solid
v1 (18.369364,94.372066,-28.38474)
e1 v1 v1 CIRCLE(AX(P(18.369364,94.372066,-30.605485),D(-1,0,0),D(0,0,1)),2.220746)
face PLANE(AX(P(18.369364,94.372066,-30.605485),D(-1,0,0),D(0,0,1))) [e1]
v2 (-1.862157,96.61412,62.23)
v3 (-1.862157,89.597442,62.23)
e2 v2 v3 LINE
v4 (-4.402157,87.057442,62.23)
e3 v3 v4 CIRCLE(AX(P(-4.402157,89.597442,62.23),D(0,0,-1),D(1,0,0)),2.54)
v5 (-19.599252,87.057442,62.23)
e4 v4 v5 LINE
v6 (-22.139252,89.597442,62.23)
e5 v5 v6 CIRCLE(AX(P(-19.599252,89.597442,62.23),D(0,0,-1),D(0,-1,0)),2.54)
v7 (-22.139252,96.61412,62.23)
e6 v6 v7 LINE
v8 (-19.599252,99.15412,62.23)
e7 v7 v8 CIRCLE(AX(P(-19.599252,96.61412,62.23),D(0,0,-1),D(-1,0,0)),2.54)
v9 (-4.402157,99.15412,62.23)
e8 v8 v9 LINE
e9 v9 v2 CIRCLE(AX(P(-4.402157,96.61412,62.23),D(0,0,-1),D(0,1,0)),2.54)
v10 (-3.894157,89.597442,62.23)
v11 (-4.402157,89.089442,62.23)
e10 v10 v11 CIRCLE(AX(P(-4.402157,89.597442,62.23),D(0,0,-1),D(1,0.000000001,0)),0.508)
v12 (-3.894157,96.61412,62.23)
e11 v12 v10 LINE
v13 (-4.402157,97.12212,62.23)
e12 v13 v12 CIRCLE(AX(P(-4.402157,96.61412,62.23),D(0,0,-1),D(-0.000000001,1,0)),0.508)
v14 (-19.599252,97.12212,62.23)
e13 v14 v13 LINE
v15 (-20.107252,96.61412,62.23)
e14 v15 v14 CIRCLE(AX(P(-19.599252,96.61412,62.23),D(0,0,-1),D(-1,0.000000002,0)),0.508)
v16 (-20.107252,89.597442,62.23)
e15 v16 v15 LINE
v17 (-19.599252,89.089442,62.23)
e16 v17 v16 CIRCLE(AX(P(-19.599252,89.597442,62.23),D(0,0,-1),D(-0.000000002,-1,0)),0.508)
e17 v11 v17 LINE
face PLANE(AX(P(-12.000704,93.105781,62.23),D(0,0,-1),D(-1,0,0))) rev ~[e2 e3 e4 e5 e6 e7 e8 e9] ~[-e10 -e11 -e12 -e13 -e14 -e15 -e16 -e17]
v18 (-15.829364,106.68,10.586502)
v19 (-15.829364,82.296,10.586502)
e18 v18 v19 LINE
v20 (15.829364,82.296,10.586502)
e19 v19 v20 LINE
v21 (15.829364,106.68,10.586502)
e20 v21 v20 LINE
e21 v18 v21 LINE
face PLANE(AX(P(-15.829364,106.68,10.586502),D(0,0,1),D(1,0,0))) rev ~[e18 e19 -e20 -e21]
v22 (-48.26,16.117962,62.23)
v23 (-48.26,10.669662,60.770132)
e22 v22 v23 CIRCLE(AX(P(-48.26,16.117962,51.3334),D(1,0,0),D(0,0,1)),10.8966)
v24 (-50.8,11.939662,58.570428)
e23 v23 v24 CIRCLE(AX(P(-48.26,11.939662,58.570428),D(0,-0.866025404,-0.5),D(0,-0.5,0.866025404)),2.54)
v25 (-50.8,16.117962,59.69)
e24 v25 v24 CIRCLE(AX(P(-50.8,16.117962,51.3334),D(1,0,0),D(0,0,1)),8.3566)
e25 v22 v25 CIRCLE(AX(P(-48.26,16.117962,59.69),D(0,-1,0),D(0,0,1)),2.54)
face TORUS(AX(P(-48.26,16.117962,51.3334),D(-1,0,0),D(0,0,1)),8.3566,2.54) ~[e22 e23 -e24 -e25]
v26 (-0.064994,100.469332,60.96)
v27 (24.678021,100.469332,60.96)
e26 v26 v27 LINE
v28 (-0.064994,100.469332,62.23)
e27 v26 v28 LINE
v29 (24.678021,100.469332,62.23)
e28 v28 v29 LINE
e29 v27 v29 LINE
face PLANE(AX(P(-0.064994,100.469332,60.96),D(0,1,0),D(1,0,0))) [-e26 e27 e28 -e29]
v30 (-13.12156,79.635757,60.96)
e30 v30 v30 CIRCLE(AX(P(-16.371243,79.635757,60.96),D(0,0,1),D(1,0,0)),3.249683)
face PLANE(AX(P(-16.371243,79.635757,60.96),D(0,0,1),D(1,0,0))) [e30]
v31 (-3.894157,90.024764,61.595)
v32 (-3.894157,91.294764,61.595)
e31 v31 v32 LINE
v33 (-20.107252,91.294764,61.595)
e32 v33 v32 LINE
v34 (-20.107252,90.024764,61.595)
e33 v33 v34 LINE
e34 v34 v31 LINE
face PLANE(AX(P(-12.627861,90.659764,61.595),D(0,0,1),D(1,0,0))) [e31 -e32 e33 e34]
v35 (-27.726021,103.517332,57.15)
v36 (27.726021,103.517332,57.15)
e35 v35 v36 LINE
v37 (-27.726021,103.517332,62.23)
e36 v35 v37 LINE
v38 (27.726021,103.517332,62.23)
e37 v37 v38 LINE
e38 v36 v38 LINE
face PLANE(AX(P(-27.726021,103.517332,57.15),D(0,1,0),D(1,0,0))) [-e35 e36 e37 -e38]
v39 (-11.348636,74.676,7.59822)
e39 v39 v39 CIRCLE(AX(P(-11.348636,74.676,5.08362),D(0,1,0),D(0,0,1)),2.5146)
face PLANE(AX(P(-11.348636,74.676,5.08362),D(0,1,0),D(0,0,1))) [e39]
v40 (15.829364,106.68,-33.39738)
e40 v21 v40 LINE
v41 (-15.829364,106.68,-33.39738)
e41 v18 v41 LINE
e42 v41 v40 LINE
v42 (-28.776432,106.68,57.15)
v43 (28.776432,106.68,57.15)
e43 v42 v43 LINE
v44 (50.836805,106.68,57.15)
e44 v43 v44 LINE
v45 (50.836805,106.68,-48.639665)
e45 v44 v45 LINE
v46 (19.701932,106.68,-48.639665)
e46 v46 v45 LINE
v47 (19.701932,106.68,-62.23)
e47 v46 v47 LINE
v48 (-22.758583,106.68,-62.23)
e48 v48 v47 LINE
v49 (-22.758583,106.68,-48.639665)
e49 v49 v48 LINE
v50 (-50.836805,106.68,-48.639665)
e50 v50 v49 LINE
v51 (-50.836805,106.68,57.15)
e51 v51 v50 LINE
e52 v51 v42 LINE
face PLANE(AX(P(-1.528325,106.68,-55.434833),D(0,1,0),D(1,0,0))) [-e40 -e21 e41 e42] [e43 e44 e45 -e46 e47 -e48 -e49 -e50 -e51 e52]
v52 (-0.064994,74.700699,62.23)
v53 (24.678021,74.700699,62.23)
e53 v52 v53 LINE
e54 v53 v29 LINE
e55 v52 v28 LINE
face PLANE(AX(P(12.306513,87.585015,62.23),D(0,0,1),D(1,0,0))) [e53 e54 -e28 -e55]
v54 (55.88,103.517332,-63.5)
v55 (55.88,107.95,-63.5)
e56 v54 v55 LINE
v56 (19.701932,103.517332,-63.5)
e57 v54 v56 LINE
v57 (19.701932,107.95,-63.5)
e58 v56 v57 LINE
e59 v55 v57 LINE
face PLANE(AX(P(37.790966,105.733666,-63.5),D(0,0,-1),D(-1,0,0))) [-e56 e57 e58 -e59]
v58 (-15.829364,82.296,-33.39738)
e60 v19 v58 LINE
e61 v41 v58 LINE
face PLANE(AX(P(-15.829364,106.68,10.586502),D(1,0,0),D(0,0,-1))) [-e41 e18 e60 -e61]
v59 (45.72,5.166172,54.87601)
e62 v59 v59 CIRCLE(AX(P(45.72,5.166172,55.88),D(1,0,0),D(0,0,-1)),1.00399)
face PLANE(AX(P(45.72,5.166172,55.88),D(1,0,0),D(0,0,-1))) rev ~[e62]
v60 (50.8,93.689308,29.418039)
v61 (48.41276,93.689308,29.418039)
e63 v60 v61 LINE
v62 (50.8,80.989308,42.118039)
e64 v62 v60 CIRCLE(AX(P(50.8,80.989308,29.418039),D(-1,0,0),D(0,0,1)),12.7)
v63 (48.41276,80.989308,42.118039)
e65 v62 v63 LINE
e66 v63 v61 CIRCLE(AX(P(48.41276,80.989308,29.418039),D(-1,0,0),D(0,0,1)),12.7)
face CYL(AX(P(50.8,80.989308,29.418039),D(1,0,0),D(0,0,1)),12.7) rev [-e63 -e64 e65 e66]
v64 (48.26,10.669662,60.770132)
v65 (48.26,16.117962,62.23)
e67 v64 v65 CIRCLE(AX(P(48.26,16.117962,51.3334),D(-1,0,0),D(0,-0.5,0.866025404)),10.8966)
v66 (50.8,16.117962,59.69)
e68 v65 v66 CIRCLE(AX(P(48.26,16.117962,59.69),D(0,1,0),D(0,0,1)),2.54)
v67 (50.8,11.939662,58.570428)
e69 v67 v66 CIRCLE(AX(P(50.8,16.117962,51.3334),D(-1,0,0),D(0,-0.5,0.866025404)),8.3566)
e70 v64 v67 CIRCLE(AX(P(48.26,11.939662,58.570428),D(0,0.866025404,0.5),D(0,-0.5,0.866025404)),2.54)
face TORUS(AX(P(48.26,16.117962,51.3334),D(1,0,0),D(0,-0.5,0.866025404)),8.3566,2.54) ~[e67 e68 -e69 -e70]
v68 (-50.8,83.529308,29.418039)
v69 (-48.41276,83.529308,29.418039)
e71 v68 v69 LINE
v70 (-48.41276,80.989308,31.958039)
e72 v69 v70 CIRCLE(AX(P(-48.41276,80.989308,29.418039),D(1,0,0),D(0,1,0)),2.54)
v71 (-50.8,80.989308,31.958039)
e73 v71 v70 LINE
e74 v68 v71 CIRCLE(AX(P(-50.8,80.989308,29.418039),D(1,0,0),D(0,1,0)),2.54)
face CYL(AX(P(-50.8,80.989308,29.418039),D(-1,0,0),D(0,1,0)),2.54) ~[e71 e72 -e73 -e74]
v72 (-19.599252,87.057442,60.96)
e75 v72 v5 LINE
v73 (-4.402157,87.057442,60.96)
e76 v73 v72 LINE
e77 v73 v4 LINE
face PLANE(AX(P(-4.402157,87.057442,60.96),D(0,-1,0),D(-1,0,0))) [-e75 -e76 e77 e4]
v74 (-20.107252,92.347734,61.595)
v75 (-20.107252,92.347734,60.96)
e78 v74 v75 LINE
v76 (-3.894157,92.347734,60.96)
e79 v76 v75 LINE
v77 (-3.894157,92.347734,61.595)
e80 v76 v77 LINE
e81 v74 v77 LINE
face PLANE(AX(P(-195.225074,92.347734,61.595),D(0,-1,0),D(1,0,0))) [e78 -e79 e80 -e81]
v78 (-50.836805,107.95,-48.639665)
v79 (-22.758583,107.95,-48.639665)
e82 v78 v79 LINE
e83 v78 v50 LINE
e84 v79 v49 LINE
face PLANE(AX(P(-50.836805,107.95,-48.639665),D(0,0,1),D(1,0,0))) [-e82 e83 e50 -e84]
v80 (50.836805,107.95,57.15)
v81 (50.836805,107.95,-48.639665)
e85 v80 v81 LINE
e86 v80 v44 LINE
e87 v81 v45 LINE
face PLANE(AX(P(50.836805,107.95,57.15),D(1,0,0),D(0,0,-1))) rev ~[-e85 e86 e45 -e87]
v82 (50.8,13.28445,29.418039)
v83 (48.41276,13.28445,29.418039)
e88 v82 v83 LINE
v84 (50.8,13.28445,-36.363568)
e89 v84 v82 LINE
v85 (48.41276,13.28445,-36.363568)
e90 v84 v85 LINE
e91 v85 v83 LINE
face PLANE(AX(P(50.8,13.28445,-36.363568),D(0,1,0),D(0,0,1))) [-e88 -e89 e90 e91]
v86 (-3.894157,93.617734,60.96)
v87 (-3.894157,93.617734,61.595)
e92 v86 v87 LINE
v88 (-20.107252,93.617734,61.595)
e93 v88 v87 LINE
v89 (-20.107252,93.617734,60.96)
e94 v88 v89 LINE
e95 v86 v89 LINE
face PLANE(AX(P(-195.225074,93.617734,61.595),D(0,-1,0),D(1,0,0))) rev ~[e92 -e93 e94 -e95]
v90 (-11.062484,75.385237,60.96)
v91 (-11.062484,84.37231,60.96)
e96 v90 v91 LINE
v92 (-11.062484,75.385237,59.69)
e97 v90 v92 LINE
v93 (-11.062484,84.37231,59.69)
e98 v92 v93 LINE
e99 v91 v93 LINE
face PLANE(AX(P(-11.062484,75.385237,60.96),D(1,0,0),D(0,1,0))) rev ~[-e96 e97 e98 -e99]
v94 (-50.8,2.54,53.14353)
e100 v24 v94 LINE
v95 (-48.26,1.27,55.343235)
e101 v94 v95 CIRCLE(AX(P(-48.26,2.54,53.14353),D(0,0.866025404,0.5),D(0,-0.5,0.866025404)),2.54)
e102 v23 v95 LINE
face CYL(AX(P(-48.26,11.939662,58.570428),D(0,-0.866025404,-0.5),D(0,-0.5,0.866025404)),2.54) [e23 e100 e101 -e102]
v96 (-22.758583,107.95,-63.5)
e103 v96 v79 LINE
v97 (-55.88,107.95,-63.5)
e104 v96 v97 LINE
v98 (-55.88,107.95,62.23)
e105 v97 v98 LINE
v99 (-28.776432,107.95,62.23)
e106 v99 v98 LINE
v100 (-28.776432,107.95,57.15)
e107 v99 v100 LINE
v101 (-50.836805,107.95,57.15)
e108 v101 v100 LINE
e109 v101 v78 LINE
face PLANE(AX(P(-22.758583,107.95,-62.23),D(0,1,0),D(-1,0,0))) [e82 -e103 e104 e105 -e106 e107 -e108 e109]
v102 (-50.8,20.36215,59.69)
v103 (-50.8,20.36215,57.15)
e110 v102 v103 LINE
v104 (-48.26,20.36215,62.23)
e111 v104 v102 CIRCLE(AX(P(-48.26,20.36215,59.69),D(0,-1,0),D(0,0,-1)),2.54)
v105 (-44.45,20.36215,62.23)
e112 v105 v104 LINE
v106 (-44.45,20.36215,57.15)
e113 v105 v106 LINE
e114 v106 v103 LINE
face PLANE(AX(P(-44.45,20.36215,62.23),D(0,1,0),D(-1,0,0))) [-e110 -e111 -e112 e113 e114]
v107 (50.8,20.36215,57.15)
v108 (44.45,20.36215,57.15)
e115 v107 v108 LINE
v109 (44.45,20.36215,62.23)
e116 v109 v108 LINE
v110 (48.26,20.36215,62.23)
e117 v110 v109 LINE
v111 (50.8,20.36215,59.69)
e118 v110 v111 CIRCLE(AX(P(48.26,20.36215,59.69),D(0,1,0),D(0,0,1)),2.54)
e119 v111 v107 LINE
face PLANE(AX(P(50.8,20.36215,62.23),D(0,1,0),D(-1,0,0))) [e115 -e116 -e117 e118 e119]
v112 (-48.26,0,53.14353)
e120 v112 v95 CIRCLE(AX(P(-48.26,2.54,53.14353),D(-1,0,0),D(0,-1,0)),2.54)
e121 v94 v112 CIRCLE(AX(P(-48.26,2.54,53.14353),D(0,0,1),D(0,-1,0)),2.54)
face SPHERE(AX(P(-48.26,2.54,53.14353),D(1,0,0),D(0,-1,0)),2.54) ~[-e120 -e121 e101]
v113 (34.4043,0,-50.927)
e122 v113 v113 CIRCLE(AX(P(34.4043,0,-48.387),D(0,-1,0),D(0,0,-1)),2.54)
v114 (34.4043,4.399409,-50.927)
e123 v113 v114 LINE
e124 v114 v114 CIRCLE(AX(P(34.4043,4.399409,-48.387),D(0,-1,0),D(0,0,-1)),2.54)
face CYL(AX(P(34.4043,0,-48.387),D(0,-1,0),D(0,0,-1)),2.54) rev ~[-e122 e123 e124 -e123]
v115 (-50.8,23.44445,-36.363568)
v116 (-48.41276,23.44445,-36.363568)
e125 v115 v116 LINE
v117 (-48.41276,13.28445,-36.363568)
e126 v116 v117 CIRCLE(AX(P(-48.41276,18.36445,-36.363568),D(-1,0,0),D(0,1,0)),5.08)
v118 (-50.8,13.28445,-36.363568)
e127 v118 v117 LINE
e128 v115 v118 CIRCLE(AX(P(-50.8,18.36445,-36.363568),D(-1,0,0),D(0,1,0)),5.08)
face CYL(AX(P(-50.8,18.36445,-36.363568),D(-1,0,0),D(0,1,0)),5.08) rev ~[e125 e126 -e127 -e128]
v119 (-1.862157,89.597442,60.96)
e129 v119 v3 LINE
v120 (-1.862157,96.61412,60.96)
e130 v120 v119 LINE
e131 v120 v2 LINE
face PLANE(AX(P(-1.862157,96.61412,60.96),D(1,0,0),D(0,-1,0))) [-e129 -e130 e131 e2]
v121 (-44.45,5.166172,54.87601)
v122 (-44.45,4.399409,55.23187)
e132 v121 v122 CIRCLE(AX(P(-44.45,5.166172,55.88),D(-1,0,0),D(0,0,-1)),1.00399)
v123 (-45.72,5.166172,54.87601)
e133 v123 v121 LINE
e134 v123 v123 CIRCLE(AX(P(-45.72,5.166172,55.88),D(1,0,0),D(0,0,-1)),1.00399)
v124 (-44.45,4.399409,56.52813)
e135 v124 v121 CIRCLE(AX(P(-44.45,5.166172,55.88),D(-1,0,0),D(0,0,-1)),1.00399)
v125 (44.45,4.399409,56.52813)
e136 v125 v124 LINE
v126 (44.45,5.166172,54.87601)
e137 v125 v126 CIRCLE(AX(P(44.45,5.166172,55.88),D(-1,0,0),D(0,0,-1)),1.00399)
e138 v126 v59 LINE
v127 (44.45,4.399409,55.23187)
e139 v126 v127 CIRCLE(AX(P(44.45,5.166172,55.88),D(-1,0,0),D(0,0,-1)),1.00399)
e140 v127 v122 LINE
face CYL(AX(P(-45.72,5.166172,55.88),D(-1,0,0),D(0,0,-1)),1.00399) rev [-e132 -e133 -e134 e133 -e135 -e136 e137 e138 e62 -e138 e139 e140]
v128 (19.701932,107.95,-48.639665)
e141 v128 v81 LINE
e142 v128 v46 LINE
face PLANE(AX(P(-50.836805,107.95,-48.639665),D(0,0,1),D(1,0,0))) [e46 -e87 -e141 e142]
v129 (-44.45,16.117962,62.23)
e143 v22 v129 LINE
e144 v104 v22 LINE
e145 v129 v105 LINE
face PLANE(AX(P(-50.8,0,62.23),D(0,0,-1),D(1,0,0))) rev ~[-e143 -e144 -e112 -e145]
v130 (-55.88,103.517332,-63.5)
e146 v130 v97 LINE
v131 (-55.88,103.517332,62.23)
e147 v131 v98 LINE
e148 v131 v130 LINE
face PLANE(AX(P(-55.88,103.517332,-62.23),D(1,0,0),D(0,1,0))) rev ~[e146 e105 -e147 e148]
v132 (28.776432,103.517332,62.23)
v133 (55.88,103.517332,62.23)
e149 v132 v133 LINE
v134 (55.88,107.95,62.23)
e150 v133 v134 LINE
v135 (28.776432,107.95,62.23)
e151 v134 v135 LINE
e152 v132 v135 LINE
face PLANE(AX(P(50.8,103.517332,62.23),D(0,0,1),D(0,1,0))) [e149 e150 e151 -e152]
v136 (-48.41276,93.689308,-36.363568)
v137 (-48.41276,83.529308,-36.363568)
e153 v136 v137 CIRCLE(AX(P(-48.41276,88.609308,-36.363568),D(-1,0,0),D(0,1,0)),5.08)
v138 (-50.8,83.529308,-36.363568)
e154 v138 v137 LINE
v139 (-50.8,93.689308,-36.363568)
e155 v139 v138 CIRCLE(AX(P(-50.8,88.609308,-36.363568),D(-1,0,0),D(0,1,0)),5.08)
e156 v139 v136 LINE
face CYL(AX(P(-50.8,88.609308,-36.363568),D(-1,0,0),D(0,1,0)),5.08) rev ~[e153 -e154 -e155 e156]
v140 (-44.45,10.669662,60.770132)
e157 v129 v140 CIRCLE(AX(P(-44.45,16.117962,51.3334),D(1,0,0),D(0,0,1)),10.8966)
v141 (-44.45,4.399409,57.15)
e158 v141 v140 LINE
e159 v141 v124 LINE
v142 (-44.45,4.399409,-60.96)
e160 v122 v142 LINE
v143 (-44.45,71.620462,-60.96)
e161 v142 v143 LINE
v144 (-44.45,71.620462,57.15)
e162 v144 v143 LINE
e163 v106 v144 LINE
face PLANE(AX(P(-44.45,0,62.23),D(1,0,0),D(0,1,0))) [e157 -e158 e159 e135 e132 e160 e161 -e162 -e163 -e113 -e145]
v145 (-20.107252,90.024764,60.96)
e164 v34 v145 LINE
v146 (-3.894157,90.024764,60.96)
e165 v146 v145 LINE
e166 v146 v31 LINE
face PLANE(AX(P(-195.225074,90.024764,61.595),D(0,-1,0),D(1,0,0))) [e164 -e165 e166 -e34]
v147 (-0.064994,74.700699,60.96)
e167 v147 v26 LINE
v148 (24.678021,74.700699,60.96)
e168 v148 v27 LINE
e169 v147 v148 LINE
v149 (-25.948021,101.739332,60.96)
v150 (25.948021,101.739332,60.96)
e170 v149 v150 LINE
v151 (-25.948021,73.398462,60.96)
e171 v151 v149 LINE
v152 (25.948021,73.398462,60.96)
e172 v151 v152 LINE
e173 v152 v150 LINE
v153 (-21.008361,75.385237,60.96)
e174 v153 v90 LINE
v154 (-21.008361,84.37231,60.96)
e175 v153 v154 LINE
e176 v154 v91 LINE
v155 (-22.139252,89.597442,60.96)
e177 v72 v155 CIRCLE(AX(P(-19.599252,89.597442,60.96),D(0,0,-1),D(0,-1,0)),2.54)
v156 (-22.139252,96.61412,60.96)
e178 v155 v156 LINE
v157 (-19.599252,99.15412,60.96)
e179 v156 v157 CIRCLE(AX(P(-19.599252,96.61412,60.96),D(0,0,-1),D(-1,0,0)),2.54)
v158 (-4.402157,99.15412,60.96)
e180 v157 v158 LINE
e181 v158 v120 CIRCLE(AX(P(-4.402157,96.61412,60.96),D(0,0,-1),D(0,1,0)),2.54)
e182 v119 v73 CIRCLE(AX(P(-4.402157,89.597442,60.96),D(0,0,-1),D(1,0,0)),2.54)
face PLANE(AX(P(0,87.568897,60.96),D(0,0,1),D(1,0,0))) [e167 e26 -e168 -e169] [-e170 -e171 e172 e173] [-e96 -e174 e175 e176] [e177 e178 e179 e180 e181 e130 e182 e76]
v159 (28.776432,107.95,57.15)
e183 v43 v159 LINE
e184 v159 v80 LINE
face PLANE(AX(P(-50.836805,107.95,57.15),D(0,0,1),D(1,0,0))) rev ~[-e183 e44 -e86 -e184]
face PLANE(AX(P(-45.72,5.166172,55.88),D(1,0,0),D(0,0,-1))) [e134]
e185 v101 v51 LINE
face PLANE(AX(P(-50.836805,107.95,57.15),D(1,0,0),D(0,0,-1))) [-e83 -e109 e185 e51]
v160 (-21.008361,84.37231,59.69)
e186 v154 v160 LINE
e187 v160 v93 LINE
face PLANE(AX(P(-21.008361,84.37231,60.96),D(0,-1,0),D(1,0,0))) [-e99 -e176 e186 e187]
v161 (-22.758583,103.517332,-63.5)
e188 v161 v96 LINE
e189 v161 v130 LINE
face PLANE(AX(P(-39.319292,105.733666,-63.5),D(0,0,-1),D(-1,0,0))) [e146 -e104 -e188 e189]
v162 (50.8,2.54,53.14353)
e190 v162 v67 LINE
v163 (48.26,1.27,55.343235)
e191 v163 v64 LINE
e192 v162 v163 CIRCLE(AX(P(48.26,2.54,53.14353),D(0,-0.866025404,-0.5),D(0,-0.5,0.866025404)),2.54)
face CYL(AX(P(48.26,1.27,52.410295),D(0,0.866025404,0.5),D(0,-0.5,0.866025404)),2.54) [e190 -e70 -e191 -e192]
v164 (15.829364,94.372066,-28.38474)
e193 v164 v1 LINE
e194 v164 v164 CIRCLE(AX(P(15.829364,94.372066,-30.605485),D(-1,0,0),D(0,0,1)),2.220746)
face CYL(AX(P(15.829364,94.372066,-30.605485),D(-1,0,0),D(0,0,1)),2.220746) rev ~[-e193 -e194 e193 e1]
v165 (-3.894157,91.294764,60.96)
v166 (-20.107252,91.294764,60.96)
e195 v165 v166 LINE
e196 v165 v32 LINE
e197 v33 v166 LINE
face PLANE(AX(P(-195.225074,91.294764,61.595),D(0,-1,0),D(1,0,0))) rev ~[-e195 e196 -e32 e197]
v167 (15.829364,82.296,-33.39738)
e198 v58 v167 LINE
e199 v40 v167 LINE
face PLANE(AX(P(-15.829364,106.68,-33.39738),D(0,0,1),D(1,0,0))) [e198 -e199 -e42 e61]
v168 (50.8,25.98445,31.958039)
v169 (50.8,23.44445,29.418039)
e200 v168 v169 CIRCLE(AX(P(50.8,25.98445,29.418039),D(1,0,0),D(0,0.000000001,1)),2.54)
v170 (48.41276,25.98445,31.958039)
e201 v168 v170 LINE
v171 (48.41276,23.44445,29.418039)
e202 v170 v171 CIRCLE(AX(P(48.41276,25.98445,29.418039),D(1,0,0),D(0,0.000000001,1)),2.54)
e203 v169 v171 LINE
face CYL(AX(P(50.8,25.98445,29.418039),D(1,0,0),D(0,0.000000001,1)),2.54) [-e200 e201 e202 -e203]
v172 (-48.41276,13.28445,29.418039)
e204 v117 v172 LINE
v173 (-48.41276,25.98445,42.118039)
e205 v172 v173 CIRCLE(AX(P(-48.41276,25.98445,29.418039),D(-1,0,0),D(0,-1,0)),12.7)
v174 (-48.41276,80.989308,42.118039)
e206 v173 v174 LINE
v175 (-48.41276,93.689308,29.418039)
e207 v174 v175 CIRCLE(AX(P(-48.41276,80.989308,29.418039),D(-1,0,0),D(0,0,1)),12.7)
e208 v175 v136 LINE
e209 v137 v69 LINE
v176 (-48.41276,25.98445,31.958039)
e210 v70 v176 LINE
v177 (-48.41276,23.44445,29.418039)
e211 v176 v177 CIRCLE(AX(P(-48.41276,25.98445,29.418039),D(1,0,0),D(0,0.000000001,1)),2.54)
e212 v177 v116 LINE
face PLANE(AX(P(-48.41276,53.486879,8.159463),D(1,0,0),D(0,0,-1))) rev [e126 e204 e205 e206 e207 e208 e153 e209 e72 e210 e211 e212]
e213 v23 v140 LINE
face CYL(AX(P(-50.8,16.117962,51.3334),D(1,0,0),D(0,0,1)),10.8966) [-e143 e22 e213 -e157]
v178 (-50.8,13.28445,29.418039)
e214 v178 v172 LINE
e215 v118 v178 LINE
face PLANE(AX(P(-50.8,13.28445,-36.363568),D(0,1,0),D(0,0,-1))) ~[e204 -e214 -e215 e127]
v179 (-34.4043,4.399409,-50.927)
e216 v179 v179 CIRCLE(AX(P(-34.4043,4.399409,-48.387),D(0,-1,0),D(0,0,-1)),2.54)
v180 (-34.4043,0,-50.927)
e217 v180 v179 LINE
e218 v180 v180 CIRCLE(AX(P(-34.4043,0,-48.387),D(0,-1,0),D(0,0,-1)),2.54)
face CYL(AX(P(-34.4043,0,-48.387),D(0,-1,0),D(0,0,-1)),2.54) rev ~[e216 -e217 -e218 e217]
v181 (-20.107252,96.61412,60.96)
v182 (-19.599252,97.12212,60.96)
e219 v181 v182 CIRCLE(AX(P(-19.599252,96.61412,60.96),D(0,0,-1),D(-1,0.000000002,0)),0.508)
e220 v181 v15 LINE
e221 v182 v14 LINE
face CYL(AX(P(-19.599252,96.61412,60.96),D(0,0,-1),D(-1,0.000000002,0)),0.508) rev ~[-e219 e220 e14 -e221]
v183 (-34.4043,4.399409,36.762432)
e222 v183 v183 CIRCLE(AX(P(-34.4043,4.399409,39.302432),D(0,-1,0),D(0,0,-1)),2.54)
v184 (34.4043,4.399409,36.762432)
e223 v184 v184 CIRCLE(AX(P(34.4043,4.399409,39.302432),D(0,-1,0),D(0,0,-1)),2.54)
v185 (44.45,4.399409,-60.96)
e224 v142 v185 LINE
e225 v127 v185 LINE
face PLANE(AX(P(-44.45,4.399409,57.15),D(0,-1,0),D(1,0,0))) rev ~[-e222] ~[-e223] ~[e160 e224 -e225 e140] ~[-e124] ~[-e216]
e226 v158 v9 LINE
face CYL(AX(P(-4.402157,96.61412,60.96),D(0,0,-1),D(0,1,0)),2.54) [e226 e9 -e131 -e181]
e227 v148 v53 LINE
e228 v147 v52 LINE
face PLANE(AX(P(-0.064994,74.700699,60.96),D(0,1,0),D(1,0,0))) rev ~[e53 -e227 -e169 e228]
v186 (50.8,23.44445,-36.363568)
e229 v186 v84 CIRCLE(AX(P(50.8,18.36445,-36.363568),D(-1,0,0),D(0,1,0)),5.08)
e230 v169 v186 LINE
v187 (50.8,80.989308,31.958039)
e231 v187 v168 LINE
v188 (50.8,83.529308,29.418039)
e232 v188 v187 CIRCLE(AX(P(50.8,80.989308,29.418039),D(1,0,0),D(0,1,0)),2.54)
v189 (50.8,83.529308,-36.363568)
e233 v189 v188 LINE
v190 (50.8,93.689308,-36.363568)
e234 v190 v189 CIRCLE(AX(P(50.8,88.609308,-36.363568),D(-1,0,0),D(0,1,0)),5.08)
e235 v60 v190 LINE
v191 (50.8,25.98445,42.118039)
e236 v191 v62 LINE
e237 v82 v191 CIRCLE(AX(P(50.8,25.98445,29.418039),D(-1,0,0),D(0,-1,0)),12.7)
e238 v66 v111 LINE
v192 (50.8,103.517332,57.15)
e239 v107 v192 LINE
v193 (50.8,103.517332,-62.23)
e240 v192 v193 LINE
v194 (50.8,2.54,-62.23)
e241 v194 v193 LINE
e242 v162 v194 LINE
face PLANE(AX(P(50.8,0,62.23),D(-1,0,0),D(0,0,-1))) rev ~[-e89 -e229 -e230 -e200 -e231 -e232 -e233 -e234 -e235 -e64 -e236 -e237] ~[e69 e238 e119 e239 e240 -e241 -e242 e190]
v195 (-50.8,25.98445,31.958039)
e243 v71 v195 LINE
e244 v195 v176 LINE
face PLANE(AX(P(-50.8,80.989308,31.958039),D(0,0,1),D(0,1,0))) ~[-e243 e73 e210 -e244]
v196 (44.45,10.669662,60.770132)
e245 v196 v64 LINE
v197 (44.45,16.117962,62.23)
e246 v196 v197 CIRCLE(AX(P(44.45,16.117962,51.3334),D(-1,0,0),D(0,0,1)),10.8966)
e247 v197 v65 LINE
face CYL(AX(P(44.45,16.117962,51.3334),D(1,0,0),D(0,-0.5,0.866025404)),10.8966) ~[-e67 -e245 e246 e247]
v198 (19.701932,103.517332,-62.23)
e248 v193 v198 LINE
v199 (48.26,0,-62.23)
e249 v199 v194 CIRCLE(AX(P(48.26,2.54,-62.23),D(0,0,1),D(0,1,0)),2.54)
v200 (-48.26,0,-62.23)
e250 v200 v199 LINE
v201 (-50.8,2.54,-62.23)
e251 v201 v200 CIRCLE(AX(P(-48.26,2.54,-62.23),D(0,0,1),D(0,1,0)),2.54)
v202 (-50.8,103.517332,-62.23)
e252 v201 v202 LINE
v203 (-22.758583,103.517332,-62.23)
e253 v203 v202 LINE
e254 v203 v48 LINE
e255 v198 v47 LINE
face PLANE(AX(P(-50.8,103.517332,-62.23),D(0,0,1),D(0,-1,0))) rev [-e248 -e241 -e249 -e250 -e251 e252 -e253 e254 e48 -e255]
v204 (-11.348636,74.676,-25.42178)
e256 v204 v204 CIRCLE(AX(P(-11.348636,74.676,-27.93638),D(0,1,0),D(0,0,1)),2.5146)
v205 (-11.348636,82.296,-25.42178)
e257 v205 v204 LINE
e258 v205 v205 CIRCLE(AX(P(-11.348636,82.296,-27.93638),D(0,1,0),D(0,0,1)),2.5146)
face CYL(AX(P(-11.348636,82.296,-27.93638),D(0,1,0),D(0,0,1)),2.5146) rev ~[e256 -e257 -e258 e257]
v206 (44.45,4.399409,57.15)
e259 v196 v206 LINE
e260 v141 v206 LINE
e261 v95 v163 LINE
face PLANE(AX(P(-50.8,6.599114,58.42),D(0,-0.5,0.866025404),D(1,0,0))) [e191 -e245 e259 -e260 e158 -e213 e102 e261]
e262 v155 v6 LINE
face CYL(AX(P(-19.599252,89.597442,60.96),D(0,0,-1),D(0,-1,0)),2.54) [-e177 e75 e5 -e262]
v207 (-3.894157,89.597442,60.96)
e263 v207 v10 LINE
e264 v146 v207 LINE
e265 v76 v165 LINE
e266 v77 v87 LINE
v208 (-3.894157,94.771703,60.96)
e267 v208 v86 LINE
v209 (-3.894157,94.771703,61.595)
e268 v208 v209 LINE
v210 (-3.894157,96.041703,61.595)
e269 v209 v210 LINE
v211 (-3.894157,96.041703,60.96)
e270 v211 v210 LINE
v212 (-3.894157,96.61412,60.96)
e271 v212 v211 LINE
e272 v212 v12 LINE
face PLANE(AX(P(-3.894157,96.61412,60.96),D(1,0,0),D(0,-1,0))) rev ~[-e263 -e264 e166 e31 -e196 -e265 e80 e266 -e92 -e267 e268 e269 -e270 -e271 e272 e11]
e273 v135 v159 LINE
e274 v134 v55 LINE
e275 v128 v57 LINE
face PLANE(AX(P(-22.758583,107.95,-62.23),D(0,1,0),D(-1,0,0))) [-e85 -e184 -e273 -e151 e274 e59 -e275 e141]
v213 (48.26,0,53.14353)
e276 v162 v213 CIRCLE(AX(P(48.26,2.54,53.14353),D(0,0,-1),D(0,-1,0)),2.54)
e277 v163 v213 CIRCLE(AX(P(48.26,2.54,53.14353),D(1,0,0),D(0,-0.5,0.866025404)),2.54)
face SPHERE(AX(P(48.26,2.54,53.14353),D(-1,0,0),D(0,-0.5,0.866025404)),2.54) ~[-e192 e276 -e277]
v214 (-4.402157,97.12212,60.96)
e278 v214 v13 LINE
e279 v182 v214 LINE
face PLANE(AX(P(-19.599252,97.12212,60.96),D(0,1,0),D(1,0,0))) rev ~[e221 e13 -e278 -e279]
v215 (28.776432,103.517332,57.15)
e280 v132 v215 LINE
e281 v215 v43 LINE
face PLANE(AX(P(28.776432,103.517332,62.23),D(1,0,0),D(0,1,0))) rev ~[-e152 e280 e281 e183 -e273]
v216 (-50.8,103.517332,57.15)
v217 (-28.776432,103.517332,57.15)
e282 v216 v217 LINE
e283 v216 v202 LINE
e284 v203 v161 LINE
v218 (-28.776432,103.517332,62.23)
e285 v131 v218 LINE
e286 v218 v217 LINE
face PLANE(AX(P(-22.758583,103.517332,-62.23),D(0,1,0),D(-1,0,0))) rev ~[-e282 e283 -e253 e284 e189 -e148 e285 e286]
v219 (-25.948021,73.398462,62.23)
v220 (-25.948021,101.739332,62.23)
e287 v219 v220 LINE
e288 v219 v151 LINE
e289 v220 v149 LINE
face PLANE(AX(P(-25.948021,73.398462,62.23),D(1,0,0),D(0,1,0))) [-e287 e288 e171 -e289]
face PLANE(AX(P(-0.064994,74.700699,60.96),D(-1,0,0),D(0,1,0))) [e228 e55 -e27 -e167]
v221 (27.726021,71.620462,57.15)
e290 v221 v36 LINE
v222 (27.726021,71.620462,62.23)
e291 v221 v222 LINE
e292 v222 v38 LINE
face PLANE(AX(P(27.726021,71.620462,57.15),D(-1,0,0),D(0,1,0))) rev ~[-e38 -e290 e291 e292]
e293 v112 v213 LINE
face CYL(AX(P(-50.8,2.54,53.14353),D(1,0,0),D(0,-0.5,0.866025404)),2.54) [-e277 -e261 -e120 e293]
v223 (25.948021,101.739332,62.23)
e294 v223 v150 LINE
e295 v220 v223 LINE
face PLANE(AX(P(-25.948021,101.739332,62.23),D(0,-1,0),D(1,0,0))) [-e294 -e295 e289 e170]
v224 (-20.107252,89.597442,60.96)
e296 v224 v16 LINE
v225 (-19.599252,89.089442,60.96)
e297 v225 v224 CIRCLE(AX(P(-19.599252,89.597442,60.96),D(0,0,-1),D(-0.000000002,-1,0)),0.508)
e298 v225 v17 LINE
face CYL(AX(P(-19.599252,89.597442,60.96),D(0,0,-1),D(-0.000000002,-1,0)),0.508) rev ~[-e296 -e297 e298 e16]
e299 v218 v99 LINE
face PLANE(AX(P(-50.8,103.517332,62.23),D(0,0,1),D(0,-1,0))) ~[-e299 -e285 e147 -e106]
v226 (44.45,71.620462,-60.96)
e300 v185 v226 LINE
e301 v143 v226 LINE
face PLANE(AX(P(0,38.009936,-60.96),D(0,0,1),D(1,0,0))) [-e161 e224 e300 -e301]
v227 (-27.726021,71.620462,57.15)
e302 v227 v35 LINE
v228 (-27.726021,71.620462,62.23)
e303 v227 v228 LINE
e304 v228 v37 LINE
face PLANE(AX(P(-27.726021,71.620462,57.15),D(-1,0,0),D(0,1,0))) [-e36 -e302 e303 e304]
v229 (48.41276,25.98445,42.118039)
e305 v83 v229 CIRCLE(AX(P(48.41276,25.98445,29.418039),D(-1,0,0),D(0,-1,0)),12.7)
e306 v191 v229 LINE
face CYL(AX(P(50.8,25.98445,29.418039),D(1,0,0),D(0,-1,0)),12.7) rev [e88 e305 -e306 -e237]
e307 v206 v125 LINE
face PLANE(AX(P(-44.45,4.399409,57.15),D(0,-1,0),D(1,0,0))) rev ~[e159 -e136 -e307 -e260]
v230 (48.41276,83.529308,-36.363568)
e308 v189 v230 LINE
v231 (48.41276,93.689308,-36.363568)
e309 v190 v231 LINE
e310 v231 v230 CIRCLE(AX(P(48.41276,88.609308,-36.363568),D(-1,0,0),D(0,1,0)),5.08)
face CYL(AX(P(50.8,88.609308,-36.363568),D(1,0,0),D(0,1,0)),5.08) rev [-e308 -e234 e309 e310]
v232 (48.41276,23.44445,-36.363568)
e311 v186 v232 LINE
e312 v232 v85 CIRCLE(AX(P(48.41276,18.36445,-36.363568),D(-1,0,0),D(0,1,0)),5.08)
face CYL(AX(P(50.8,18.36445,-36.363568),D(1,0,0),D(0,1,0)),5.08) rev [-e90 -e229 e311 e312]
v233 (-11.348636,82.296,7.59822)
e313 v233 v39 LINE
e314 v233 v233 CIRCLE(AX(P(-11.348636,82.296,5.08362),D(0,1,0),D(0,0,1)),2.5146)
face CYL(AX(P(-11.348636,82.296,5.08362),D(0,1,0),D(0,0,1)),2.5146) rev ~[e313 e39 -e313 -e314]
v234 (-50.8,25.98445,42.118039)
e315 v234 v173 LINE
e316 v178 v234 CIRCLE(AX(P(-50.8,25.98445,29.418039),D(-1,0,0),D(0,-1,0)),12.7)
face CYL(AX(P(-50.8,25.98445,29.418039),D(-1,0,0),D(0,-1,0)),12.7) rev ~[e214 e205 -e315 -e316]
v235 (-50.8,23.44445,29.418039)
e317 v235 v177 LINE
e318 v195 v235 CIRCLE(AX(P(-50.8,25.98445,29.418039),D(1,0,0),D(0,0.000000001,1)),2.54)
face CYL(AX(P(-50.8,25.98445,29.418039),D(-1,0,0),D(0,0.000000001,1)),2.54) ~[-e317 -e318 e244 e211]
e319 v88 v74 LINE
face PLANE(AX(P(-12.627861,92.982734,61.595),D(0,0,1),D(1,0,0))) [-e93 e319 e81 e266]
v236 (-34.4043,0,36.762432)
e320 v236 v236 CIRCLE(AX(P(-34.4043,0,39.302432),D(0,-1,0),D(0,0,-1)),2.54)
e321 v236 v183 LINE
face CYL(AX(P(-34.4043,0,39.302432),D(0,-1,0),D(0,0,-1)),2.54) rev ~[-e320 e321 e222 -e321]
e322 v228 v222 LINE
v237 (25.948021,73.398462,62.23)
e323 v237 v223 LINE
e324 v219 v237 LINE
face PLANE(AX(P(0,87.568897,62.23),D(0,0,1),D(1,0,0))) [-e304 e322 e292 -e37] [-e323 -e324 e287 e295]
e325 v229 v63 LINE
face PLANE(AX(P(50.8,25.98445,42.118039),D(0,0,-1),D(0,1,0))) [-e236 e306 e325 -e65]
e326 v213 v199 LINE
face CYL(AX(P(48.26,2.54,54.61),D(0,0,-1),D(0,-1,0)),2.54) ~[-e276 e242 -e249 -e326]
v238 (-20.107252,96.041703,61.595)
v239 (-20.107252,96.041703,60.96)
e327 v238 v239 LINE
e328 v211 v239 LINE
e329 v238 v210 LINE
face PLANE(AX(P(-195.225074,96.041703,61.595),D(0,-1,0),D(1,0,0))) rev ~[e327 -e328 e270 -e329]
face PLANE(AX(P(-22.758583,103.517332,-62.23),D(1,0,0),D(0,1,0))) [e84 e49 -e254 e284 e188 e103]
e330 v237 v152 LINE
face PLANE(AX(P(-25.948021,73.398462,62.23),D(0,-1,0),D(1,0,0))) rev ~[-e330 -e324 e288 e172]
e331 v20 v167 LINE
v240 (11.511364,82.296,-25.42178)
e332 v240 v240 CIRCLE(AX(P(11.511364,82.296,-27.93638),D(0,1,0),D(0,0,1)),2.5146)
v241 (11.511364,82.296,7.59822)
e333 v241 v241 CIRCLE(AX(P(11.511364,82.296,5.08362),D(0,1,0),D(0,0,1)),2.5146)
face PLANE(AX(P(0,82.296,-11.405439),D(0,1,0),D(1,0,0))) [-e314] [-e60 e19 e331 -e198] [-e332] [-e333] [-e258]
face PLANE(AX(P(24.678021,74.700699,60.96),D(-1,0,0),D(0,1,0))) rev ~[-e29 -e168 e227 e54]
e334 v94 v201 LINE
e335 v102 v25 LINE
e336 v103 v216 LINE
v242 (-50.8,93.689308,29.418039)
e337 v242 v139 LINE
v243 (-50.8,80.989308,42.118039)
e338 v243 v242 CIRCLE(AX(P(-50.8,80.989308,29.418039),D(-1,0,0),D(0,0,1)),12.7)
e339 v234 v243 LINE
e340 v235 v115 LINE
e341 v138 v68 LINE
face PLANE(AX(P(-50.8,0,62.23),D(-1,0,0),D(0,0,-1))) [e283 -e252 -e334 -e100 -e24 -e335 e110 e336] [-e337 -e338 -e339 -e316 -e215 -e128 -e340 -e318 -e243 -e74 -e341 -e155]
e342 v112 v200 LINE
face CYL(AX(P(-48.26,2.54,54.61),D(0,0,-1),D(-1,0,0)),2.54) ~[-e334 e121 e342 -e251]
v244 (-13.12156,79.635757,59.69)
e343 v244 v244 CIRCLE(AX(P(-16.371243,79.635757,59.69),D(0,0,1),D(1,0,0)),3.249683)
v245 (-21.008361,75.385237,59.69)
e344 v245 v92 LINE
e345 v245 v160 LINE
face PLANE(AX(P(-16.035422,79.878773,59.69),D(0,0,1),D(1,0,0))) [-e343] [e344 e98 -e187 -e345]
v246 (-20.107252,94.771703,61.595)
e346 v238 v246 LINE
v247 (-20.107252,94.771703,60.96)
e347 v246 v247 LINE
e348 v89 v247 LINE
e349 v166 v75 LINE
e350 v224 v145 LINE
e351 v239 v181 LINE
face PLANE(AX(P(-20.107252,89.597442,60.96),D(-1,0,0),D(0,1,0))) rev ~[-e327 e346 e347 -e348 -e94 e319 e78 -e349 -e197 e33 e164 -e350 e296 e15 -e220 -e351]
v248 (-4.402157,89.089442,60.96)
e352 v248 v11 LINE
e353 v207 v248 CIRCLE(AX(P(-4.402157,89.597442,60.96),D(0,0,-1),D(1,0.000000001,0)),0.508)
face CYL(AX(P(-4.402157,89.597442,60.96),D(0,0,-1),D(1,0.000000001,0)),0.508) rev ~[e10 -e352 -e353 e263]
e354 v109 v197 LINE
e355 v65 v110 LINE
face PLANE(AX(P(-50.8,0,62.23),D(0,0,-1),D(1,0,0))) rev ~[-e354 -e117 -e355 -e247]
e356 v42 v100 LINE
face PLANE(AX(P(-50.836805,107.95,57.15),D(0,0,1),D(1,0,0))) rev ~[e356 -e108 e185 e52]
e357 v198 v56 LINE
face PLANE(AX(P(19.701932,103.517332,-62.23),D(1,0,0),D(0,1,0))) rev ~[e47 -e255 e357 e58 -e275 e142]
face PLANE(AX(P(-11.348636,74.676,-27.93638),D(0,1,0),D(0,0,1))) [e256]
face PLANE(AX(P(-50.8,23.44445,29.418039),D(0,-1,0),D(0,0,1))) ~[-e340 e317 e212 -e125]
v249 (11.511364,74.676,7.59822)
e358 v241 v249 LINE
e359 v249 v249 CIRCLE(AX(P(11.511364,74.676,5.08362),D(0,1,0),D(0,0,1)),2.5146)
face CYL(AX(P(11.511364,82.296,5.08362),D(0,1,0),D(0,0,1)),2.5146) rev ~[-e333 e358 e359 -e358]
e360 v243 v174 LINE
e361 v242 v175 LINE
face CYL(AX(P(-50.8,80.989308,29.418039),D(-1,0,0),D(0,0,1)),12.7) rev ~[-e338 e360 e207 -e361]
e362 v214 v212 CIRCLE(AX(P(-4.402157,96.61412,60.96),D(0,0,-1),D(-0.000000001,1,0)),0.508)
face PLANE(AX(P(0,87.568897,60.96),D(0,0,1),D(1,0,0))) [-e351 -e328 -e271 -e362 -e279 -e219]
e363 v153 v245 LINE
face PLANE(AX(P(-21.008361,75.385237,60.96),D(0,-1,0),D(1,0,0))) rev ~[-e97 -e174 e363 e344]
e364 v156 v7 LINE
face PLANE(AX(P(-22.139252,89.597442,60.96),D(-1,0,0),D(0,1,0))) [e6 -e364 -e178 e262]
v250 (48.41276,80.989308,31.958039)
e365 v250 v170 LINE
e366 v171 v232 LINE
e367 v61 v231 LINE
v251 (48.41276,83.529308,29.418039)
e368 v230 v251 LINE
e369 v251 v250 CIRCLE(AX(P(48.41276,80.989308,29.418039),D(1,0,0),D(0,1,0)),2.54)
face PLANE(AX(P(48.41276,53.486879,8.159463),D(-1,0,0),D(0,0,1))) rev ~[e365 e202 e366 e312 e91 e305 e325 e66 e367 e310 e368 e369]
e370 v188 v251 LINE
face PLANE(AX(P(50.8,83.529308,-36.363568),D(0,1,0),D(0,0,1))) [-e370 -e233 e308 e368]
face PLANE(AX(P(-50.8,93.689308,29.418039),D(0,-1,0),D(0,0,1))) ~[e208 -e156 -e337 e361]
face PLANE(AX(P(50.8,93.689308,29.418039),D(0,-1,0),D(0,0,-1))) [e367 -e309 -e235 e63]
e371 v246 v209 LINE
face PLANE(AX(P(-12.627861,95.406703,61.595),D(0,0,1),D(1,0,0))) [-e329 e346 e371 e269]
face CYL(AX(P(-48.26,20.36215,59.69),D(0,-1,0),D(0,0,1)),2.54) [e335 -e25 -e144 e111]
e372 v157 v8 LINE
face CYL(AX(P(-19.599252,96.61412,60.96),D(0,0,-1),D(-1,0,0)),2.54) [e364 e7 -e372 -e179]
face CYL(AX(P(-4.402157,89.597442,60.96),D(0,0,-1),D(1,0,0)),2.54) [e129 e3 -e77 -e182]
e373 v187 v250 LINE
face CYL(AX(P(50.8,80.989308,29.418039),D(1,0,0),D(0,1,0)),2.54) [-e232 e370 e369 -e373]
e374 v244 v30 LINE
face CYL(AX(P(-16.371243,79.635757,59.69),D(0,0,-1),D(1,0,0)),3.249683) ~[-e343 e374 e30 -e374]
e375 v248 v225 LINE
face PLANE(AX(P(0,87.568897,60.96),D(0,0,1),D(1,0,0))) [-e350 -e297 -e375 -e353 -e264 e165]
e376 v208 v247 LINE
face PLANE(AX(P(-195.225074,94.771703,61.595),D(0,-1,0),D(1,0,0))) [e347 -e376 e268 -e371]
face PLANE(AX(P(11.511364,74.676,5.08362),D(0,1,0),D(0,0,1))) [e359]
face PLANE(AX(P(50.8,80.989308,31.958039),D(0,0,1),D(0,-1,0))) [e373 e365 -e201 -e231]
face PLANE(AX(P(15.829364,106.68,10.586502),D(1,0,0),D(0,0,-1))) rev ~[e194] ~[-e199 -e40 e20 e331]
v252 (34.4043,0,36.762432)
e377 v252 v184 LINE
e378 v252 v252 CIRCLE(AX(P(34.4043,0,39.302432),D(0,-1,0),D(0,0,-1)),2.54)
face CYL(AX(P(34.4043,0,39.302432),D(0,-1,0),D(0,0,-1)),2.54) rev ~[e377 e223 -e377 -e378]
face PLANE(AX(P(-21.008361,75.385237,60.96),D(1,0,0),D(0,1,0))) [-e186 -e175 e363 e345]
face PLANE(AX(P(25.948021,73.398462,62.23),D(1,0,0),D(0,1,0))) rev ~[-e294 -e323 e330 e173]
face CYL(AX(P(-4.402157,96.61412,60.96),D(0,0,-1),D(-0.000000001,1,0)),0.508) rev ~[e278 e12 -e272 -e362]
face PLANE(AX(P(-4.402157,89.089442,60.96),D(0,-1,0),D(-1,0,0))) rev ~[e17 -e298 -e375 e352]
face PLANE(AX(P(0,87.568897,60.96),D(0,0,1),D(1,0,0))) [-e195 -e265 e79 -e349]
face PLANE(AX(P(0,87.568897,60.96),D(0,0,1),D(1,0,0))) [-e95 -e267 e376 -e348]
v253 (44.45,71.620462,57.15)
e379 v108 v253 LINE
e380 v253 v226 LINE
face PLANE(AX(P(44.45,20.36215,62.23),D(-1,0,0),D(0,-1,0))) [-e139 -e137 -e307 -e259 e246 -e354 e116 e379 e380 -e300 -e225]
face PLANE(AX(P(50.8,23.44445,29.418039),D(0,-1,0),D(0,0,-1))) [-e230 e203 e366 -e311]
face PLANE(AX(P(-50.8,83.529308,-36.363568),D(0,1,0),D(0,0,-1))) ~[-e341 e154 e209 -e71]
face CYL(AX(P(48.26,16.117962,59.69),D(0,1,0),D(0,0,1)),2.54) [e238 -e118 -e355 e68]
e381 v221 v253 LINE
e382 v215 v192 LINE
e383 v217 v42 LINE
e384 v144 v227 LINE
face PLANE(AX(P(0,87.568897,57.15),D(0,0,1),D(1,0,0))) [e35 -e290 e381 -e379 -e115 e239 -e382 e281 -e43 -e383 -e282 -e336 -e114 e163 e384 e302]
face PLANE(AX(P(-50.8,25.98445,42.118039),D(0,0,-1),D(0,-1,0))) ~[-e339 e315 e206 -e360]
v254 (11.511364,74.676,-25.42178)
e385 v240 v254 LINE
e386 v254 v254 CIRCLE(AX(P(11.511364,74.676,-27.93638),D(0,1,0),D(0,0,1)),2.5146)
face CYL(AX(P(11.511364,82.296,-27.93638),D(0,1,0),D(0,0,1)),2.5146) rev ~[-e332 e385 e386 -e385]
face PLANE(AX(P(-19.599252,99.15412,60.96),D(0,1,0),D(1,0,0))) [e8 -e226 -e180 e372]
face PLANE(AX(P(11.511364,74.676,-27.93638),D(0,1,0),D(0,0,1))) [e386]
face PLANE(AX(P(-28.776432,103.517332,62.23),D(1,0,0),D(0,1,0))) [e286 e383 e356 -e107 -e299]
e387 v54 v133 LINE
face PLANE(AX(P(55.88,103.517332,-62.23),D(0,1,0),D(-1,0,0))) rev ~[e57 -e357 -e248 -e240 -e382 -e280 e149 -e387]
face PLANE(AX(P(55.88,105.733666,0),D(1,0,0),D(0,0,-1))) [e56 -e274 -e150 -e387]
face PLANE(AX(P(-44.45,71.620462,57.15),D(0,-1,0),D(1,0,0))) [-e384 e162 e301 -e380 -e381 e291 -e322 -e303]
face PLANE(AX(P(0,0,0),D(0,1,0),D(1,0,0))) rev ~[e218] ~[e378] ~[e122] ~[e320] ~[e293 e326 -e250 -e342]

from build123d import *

# Parameters (mm, degrees)
SKETCH1_W             = 101.6
SKETCH1_H             = 124.46
EXTRUDE1_DEPTH        = 107.95
SKETCH2_W             = 101.6
SKETCH2_H             = 31.896869116
CUT_EXTRUDE1_DEPTH    = 5.08
CHAMFER1_SIZE         = 7.62
CHAMFER1_SIZE2        = 13.198227154
SKETCH3_W             = 57.552864312
SKETCH3_H             = 4.432668438
CUT_EXTRUDE2_DEPTH    = 5.08
SKETCH4_W             = 55.452041872
SKETCH4_H             = 31.896869116
EXTRUDE2_DEPTH        = 5.08
EXTRUDE3_DEPTH        = 5.08
SKETCH6_W             = 88.9
SKETCH6_H             = 67.221053395
EXTRUDE5_DEPTH        = 118.11
EXTRUDE6_DEPTH        = 2.387239506
SKETCH8_W             = 124.46
SKETCH8_H             = 4.432668438
EXTRUDE7_DEPTH        = 5.08
FILLET2_R             = 10.8966
FILLET1_R             = 2.54
SKETCH11_W            = 101.673610188
SKETCH11_H            = 105.789665407
EXTRUDE8_DEPTH        = 1.27
SKETCH12_W            = 33.121416728
SKETCH12_H            = 4.432668438
SKETCH12_W_2          = 36.17806772
EXTRUDE9_DEPTH        = 1.27
SKETCH13_W            = 42.460515552
SKETCH13_H            = 13.590334593
EXTRUDE10_DEPTH       = 1.27
SKETCH14_W            = 31.658728634
SKETCH14_H            = 43.98388253
EXTRUDE11_DEPTH       = 24.384
SKETCH18_W            = 51.896041872
SKETCH18_H            = 28.340869116
EXTRUDE12_DEPTH       = 1.27
SKETCH19_W            = 24.743015011
SKETCH19_H            = 25.768632214
EXTRUDE13_DEPTH       = 1.27
EXTRUDE_THIN1_DEPTH   = 1.27
SKETCH22_W            = 9.945877347
SKETCH22_H            = 8.987072842
EXTRUDE14_DEPTH       = 1.27
SKETCH23_R            = 3.249682988
EXTRUDE15_DEPTH       = 1.27
RIB7_REACH            = 176.426
SKETCH25_WALLS_W      = 365.194425131
SKETCH25_WALLS_H      = 1.27
CUT_EXTRUDE3_START    = -1.27
SKETCH26_R            = 1.003990475
CUT_EXTRUDE3_DEPTH    = 91.44
SKETCH27_R            = 2.220745834
EXTRUDE16_DEPTH       = 2.54
CROQUIS1_R            = 2.5146
CORTAR_EXTRUIR1_DEPTH = 7.62
CORTAR_EXTRUIR2_REACH = 139.142
CROQUIS2_R            = 2.54


with BuildPart() as part:
    # Sketch1 → Extrude1 (new body)
    with BuildSketch(Plane(origin=(0, 0, 0), x_dir=(1, 0, 0), z_dir=(0, 1, 0))):
        Rectangle(SKETCH1_W, SKETCH1_H)
    extrude(amount=EXTRUDE1_DEPTH)

    # Sketch2 → Cut-Extrude1 (cut)
    with BuildSketch(Plane.XY.offset(62.23)):
        with Locations((0, 87.568897004)):
            Rectangle(SKETCH2_W, SKETCH2_H)
    extrude(amount=-CUT_EXTRUDE1_DEPTH, mode=Mode.SUBTRACT)

    # Chamfer1
    chamfer1_edges = [part.edges().sort_by_distance(p)[0] for p in [
        (0, 0, 62.23),
    ]]
    chamfer1_side = [part.faces().sort_by_distance(p)[0] for p in [
        (0, 0, 0),
    ]]
    chamfer(chamfer1_edges, length=CHAMFER1_SIZE, length2=CHAMFER1_SIZE2, reference=chamfer1_side[0])

    # Sketch3 → Cut-Extrude2 (cut)
    with BuildSketch(Plane.XY.offset(62.23)):
        with Locations((0, 105.733665781)):
            Rectangle(SKETCH3_W, SKETCH3_H)
    extrude(amount=-CUT_EXTRUDE2_DEPTH, mode=Mode.SUBTRACT)

    # Sketch5 → Extrude3 (cut)
    with BuildSketch(Plane.XY.offset(62.23)):
        Polygon((-50.8, 71.620462446), (50.8, 71.620462446), (50.8, 20.362150317), (44.45, 20.362150317), (44.45, 0), (-44.45, 0), (-44.45, 20.362150317), (-50.8, 20.362150317), align=None)
    extrude(amount=-EXTRUDE3_DEPTH, mode=Mode.SUBTRACT)

    # Sketch6 → Extrude5 (cut)
    with BuildSketch(Plane.XY.offset(57.15)):
        with Locations((0, 38.009935749)):
            Rectangle(SKETCH6_W, SKETCH6_H)
    extrude(amount=-EXTRUDE5_DEPTH, mode=Mode.SUBTRACT)

    # Sketch7 → Extrude6 (cut)
    with BuildSketch(Plane(origin=(50.8, 0, 0), x_dir=(0, 0, -1), z_dir=(1, 0, 0))):
        with BuildLine():
            Line((-29.418039351, 23.444450079), (36.363567635, 23.444450079))
            ThreePointArc((36.363567635, 23.444450079), (41.443567635, 18.364450079), (36.363567635, 13.284450079))
            Line((36.363567635, 13.284450079), (-29.418039351, 13.284450079))
            ThreePointArc((-29.418039351, 13.284450079), (-38.398295472, 17.004193957), (-42.118039351, 25.984450079))
            Line((-42.118039351, 25.984450079), (-42.118039351, 80.989308106))
            ThreePointArc((-42.118039351, 80.989308106), (-38.398295472, 89.969564227), (-29.418039351, 93.689308106))
            Line((-29.418039351, 93.689308106), (36.363567635, 93.689308106))
            ThreePointArc((36.363567635, 93.689308106), (41.443567635, 88.609308106), (36.363567635, 83.529308106))
            Line((36.363567635, 83.529308106), (-29.418039351, 83.529308106))
            ThreePointArc((-29.418039351, 83.529308106), (-31.214090576, 82.78535933), (-31.958039351, 80.989308106))
            Line((-31.958039351, 80.989308106), (-31.958039351, 25.984450079))
            ThreePointArc((-31.958039351, 25.984450079), (-31.214090576, 24.188398854), (-29.418039351, 23.444450079))
        make_face()
    extrude6 = extrude(amount=-EXTRUDE6_DEPTH, mode=Mode.SUBTRACT)

    # Sketch8 → Extrude7 (add)
    with BuildSketch(Plane(origin=(50.8, 0, 0), x_dir=(0, 0, -1), z_dir=(1, 0, 0))):
        with Locations((0, 105.733665781)):
            Rectangle(SKETCH8_W, SKETCH8_H)
    extrude7 = extrude(amount=EXTRUDE7_DEPTH)

    # Mirror1: Extrude6, Extrude7 across plane
    add(extrude6.mirror(Plane(origin=(0, 0, 0), x_dir=(0, 0, 1), z_dir=(1, 0, 0))), mode=Mode.SUBTRACT)
    add(extrude7.mirror(Plane(origin=(0, 0, 0), x_dir=(0, 0, 1), z_dir=(1, 0, 0))))

    # Fillet2
    fillet2_edges = [part.edges().sort_by_distance(p)[0] for p in [
        (-47.625, 13.198227154, 62.23),
        (47.625, 13.198227154, 62.23),
    ]]
    fillet(fillet2_edges, radius=FILLET2_R)

    # Fillet1
    fillet1_edges = [part.edges().sort_by_distance(p)[0] for p in [
        (50.8, 5.334831162, 57.690066207),
        (-50.8, 13.297714717, 61.858707359),
        (50.8, 13.297714717, 61.858707359),
        (50.8, 0, -3.81),
        (0, 0, 54.61),
        (-50.8, 5.334831162, 57.690066207),
        (-50.8, 0, -3.81),
        (50.8, 18.240056321, 62.23),
        (-50.8, 18.240056321, 62.23),
    ]]
    fillet(fillet1_edges, radius=FILLET1_R)

    # Sketch11 → Extrude8 (cut)
    with BuildSketch(Plane(origin=(0, 107.95, 0), x_dir=(1, 0, 0), z_dir=(0, 1, 0))):
        with Locations((0, -4.255167297)):
            Rectangle(SKETCH11_W, SKETCH11_H)
    extrude(amount=-EXTRUDE8_DEPTH, mode=Mode.SUBTRACT)

    # Sketch12 → Extrude9 (add)
    with BuildSketch(Plane(origin=(0, 0, -62.23), x_dir=(-1, 0, 0), z_dir=(0, 0, -1))):
        with Locations((39.319291636, 105.733665781)):
            Rectangle(SKETCH12_W, SKETCH12_H)
        with Locations((-37.79096614, 105.733665781)):
            Rectangle(SKETCH12_W_2, SKETCH12_H)
    extrude(amount=EXTRUDE9_DEPTH)

    # Sketch13 → Extrude10 (cut)
    with BuildSketch(Plane(origin=(0, 107.95, 0), x_dir=(1, 0, 0), z_dir=(0, 1, 0))):
        with Locations((-1.528325496, 55.434832704)):
            Rectangle(SKETCH13_W, SKETCH13_H)
    extrude(amount=-EXTRUDE10_DEPTH, mode=Mode.SUBTRACT)

    # Sketch14 → Extrude11 (cut)
    with BuildSketch(Plane(origin=(0, 106.68, 0), x_dir=(1, 0, 0), z_dir=(0, 1, 0))):
        with Locations((0, 11.405438786)):
            Rectangle(SKETCH14_W, SKETCH14_H)
    extrude(amount=-EXTRUDE11_DEPTH, mode=Mode.SUBTRACT)



with BuildPart() as body_2:
    # Sketch4 → Extrude2 (new body)
    with BuildSketch(Plane.XY.offset(57.15)):
        with Locations((0, 87.568897004)):
            Rectangle(SKETCH4_W, SKETCH4_H)
    extrude(amount=EXTRUDE2_DEPTH)

    # Sketch18 → Extrude12 (cut)
    with BuildSketch(Plane.XY.offset(62.23)):
        with Locations((0, 87.568897004)):
            Rectangle(SKETCH18_W, SKETCH18_H)
    extrude(amount=-EXTRUDE12_DEPTH, mode=Mode.SUBTRACT)


with BuildPart() as part_1:
    add(part.part)

    add(body_2.part)  # Extrude13 merges body 2
    # Sketch19 → Extrude13 (add)
    with BuildSketch(Plane.XY.offset(60.96)):
        with Locations((12.306513431, 87.585015455)):
            Rectangle(SKETCH19_W, SKETCH19_H)
    extrude(amount=EXTRUDE13_DEPTH)

    # Sketch21 → Extrude-Thin1 (add)
    with BuildSketch(Plane.XY.offset(60.96)):
        with BuildLine():
            Line((-1.862156977, 96.614119657), (-1.862156977, 89.597442342))
            ThreePointArc((-1.862156977, 89.597442342), (-2.606105753, 87.801391117), (-4.402156977, 87.057442342))
            Line((-4.402156977, 87.057442342), (-19.599252013, 87.057442342))
            ThreePointArc((-19.599252013, 87.057442342), (-21.395303237, 87.801391117), (-22.139252013, 89.597442342))
            Line((-22.139252013, 89.597442342), (-22.139252013, 96.614119657))
            ThreePointArc((-22.139252013, 96.614119657), (-21.395303237, 98.410170882), (-19.599252013, 99.154119657))
            Line((-19.599252013, 99.154119657), (-4.402156977, 99.154119657))
            ThreePointArc((-4.402156977, 99.154119657), (-2.606105753, 98.410170882), (-1.862156977, 96.614119657))
        make_face()
        with BuildLine():
            Line((-3.894156977, 96.614119657), (-3.894156977, 89.597442342))
            ThreePointArc((-3.894156977, 89.597442342), (-4.042946732, 89.238232097), (-4.402156977, 89.089442342))
            Line((-4.402156977, 89.089442342), (-19.599252013, 89.089442342))
            ThreePointArc((-19.599252013, 89.089442342), (-19.958462257, 89.238232097), (-20.107252013, 89.597442342))
            Line((-20.107252013, 89.597442342), (-20.107252013, 96.614119657))
            ThreePointArc((-20.107252013, 96.614119657), (-19.958462257, 96.973329902), (-19.599252013, 97.122119657))
            Line((-19.599252013, 97.122119657), (-4.402156977, 97.122119657))
            ThreePointArc((-4.402156977, 97.122119657), (-4.042946732, 96.973329902), (-3.894156977, 96.614119657))
        make_face(mode=Mode.SUBTRACT)
    extrude(amount=EXTRUDE_THIN1_DEPTH)

    # Sketch22 → Extrude14 (cut)
    with BuildSketch(Plane.XY.offset(60.96)):
        with Locations((-16.035422345, 79.87877329)):
            Rectangle(SKETCH22_W, SKETCH22_H)
    extrude(amount=-EXTRUDE14_DEPTH, mode=Mode.SUBTRACT)

    # Sketch23 → Extrude15 (add)
    with BuildSketch(Plane.XY.offset(59.69)):
        with Locations((-16.371243285, 79.635756992)):
            Circle(SKETCH23_R)
    extrude(amount=EXTRUDE15_DEPTH)

    # Sketch25 walls → Rib7 (add, up to next)
    with BuildSketch(Plane.XY.offset(61.595), mode=Mode.PRIVATE) as rib7_sk1:
        with Locations((-12.627861278, 95.406703157)):
            Rectangle(SKETCH25_WALLS_W, SKETCH25_WALLS_H)
    rib7_tool1 = extrude(rib7_sk1.sketch, amount=-RIB7_REACH, mode=Mode.PRIVATE) - part_1.part
    # Sketch25 walls → Rib7 (add, up to next)
    with BuildSketch(Plane.XY.offset(61.595), mode=Mode.PRIVATE) as rib7_sk2:
        with Locations((-12.627861278, 92.98273445)):
            Rectangle(SKETCH25_WALLS_W, SKETCH25_WALLS_H)
    rib7_tool2 = extrude(rib7_sk2.sketch, amount=-RIB7_REACH, mode=Mode.PRIVATE) - part_1.part
    # Sketch25 walls → Rib7 (add, up to next)
    with BuildSketch(Plane.XY.offset(61.595), mode=Mode.PRIVATE) as rib7_sk3:
        with Locations((-12.627861278, 90.659764439)):
            Rectangle(SKETCH25_WALLS_W, SKETCH25_WALLS_H)
    rib7_tool3 = extrude(rib7_sk3.sketch, amount=-RIB7_REACH, mode=Mode.PRIVATE) - part_1.part
    add(rib7_tool1.solids().sort_by_distance((-12.627861278, 95.406703157, 61.595))[0])
    add(rib7_tool2.solids().sort_by_distance((-12.627861278, 92.98273445, 61.595))[0])
    add(rib7_tool3.solids().sort_by_distance((-12.627861278, 90.659764439, 61.595))[0])

    # Sketch26 → Cut-Extrude3 (cut)
    with BuildSketch(Plane(origin=(-44.45, 0, 0), x_dir=(0, 0, -1), z_dir=(1, 0, 0)).offset(CUT_EXTRUDE3_START)):
        with Locations((-55.88, 5.166171621)):
            Circle(SKETCH26_R)
    extrude(amount=CUT_EXTRUDE3_DEPTH, mode=Mode.SUBTRACT)

    # Sketch27 → Extrude16 (cut)
    with BuildSketch(Plane.ZY.offset(-15.829364317)):
        with Locations((-30.605485383, 94.372066286)):
            Circle(SKETCH27_R)
    extrude(amount=-EXTRUDE16_DEPTH, mode=Mode.SUBTRACT)

    # Croquis1 → Cortar-Extruir1 (cut)
    with BuildSketch(Plane(origin=(0, 82.296, 0), x_dir=(1, 0, 0), z_dir=(0, 1, 0))):
        with Locations(Location((-11.348635683, 27.936380051, 0), (0, 0, 270))):
            Circle(CROQUIS1_R)
        with Locations(Location((11.511364317, 27.936380051, 0), (0, 0, 270))):
            Circle(CROQUIS1_R)
        with Locations(Location((11.511364317, -5.083619949, 0), (0, 0, 270))):
            Circle(CROQUIS1_R)
        with Locations(Location((-11.348635683, -5.083619949, 0), (0, 0, 270))):
            Circle(CROQUIS1_R)
    extrude(amount=-CORTAR_EXTRUIR1_DEPTH, mode=Mode.SUBTRACT)

    # Croquis2 → Cortar-Extruir2 (cut, up to next)
    with BuildSketch(Plane.XZ, mode=Mode.PRIVATE) as cortar_extruir2_sk1:
        with Locations(Location((-34.4043, 39.302432116, 0), (0, 0, 270))):
            Circle(CROQUIS2_R)
    cortar_extruir2_tool1 = extrude(cortar_extruir2_sk1.sketch, amount=-CORTAR_EXTRUIR2_REACH, mode=Mode.PRIVATE) & part_1.part
    # Croquis2 → Cortar-Extruir2 (cut, up to next)
    with BuildSketch(Plane.XZ, mode=Mode.PRIVATE) as cortar_extruir2_sk2:
        with Locations(Location((34.4043, 39.302432116, 0), (0, 0, 270))):
            Circle(CROQUIS2_R)
    cortar_extruir2_tool2 = extrude(cortar_extruir2_sk2.sketch, amount=-CORTAR_EXTRUIR2_REACH, mode=Mode.PRIVATE) & part_1.part
    # Croquis2 → Cortar-Extruir2 (cut, up to next)
    with BuildSketch(Plane.XZ, mode=Mode.PRIVATE) as cortar_extruir2_sk3:
        with Locations(Location((34.4043, -48.387, 0), (0, 0, 270))):
            Circle(CROQUIS2_R)
    cortar_extruir2_tool3 = extrude(cortar_extruir2_sk3.sketch, amount=-CORTAR_EXTRUIR2_REACH, mode=Mode.PRIVATE) & part_1.part
    # Croquis2 → Cortar-Extruir2 (cut, up to next)
    with BuildSketch(Plane.XZ, mode=Mode.PRIVATE) as cortar_extruir2_sk4:
        with Locations(Location((-34.4043, -48.387, 0), (0, 0, 270))):
            Circle(CROQUIS2_R)
    cortar_extruir2_tool4 = extrude(cortar_extruir2_sk4.sketch, amount=-CORTAR_EXTRUIR2_REACH, mode=Mode.PRIVATE) & part_1.part
    add(cortar_extruir2_tool1.solids().sort_by_distance((-34.4043, 0, 39.302432))[0], mode=Mode.SUBTRACT)
    add(cortar_extruir2_tool2.solids().sort_by_distance((34.4043, 0, 39.302432))[0], mode=Mode.SUBTRACT)
    add(cortar_extruir2_tool3.solids().sort_by_distance((34.4043, 0, -48.387))[0], mode=Mode.SUBTRACT)
    add(cortar_extruir2_tool4.solids().sort_by_distance((-34.4043, 0, -48.387))[0], mode=Mode.SUBTRACT)


solid = part_1.part
